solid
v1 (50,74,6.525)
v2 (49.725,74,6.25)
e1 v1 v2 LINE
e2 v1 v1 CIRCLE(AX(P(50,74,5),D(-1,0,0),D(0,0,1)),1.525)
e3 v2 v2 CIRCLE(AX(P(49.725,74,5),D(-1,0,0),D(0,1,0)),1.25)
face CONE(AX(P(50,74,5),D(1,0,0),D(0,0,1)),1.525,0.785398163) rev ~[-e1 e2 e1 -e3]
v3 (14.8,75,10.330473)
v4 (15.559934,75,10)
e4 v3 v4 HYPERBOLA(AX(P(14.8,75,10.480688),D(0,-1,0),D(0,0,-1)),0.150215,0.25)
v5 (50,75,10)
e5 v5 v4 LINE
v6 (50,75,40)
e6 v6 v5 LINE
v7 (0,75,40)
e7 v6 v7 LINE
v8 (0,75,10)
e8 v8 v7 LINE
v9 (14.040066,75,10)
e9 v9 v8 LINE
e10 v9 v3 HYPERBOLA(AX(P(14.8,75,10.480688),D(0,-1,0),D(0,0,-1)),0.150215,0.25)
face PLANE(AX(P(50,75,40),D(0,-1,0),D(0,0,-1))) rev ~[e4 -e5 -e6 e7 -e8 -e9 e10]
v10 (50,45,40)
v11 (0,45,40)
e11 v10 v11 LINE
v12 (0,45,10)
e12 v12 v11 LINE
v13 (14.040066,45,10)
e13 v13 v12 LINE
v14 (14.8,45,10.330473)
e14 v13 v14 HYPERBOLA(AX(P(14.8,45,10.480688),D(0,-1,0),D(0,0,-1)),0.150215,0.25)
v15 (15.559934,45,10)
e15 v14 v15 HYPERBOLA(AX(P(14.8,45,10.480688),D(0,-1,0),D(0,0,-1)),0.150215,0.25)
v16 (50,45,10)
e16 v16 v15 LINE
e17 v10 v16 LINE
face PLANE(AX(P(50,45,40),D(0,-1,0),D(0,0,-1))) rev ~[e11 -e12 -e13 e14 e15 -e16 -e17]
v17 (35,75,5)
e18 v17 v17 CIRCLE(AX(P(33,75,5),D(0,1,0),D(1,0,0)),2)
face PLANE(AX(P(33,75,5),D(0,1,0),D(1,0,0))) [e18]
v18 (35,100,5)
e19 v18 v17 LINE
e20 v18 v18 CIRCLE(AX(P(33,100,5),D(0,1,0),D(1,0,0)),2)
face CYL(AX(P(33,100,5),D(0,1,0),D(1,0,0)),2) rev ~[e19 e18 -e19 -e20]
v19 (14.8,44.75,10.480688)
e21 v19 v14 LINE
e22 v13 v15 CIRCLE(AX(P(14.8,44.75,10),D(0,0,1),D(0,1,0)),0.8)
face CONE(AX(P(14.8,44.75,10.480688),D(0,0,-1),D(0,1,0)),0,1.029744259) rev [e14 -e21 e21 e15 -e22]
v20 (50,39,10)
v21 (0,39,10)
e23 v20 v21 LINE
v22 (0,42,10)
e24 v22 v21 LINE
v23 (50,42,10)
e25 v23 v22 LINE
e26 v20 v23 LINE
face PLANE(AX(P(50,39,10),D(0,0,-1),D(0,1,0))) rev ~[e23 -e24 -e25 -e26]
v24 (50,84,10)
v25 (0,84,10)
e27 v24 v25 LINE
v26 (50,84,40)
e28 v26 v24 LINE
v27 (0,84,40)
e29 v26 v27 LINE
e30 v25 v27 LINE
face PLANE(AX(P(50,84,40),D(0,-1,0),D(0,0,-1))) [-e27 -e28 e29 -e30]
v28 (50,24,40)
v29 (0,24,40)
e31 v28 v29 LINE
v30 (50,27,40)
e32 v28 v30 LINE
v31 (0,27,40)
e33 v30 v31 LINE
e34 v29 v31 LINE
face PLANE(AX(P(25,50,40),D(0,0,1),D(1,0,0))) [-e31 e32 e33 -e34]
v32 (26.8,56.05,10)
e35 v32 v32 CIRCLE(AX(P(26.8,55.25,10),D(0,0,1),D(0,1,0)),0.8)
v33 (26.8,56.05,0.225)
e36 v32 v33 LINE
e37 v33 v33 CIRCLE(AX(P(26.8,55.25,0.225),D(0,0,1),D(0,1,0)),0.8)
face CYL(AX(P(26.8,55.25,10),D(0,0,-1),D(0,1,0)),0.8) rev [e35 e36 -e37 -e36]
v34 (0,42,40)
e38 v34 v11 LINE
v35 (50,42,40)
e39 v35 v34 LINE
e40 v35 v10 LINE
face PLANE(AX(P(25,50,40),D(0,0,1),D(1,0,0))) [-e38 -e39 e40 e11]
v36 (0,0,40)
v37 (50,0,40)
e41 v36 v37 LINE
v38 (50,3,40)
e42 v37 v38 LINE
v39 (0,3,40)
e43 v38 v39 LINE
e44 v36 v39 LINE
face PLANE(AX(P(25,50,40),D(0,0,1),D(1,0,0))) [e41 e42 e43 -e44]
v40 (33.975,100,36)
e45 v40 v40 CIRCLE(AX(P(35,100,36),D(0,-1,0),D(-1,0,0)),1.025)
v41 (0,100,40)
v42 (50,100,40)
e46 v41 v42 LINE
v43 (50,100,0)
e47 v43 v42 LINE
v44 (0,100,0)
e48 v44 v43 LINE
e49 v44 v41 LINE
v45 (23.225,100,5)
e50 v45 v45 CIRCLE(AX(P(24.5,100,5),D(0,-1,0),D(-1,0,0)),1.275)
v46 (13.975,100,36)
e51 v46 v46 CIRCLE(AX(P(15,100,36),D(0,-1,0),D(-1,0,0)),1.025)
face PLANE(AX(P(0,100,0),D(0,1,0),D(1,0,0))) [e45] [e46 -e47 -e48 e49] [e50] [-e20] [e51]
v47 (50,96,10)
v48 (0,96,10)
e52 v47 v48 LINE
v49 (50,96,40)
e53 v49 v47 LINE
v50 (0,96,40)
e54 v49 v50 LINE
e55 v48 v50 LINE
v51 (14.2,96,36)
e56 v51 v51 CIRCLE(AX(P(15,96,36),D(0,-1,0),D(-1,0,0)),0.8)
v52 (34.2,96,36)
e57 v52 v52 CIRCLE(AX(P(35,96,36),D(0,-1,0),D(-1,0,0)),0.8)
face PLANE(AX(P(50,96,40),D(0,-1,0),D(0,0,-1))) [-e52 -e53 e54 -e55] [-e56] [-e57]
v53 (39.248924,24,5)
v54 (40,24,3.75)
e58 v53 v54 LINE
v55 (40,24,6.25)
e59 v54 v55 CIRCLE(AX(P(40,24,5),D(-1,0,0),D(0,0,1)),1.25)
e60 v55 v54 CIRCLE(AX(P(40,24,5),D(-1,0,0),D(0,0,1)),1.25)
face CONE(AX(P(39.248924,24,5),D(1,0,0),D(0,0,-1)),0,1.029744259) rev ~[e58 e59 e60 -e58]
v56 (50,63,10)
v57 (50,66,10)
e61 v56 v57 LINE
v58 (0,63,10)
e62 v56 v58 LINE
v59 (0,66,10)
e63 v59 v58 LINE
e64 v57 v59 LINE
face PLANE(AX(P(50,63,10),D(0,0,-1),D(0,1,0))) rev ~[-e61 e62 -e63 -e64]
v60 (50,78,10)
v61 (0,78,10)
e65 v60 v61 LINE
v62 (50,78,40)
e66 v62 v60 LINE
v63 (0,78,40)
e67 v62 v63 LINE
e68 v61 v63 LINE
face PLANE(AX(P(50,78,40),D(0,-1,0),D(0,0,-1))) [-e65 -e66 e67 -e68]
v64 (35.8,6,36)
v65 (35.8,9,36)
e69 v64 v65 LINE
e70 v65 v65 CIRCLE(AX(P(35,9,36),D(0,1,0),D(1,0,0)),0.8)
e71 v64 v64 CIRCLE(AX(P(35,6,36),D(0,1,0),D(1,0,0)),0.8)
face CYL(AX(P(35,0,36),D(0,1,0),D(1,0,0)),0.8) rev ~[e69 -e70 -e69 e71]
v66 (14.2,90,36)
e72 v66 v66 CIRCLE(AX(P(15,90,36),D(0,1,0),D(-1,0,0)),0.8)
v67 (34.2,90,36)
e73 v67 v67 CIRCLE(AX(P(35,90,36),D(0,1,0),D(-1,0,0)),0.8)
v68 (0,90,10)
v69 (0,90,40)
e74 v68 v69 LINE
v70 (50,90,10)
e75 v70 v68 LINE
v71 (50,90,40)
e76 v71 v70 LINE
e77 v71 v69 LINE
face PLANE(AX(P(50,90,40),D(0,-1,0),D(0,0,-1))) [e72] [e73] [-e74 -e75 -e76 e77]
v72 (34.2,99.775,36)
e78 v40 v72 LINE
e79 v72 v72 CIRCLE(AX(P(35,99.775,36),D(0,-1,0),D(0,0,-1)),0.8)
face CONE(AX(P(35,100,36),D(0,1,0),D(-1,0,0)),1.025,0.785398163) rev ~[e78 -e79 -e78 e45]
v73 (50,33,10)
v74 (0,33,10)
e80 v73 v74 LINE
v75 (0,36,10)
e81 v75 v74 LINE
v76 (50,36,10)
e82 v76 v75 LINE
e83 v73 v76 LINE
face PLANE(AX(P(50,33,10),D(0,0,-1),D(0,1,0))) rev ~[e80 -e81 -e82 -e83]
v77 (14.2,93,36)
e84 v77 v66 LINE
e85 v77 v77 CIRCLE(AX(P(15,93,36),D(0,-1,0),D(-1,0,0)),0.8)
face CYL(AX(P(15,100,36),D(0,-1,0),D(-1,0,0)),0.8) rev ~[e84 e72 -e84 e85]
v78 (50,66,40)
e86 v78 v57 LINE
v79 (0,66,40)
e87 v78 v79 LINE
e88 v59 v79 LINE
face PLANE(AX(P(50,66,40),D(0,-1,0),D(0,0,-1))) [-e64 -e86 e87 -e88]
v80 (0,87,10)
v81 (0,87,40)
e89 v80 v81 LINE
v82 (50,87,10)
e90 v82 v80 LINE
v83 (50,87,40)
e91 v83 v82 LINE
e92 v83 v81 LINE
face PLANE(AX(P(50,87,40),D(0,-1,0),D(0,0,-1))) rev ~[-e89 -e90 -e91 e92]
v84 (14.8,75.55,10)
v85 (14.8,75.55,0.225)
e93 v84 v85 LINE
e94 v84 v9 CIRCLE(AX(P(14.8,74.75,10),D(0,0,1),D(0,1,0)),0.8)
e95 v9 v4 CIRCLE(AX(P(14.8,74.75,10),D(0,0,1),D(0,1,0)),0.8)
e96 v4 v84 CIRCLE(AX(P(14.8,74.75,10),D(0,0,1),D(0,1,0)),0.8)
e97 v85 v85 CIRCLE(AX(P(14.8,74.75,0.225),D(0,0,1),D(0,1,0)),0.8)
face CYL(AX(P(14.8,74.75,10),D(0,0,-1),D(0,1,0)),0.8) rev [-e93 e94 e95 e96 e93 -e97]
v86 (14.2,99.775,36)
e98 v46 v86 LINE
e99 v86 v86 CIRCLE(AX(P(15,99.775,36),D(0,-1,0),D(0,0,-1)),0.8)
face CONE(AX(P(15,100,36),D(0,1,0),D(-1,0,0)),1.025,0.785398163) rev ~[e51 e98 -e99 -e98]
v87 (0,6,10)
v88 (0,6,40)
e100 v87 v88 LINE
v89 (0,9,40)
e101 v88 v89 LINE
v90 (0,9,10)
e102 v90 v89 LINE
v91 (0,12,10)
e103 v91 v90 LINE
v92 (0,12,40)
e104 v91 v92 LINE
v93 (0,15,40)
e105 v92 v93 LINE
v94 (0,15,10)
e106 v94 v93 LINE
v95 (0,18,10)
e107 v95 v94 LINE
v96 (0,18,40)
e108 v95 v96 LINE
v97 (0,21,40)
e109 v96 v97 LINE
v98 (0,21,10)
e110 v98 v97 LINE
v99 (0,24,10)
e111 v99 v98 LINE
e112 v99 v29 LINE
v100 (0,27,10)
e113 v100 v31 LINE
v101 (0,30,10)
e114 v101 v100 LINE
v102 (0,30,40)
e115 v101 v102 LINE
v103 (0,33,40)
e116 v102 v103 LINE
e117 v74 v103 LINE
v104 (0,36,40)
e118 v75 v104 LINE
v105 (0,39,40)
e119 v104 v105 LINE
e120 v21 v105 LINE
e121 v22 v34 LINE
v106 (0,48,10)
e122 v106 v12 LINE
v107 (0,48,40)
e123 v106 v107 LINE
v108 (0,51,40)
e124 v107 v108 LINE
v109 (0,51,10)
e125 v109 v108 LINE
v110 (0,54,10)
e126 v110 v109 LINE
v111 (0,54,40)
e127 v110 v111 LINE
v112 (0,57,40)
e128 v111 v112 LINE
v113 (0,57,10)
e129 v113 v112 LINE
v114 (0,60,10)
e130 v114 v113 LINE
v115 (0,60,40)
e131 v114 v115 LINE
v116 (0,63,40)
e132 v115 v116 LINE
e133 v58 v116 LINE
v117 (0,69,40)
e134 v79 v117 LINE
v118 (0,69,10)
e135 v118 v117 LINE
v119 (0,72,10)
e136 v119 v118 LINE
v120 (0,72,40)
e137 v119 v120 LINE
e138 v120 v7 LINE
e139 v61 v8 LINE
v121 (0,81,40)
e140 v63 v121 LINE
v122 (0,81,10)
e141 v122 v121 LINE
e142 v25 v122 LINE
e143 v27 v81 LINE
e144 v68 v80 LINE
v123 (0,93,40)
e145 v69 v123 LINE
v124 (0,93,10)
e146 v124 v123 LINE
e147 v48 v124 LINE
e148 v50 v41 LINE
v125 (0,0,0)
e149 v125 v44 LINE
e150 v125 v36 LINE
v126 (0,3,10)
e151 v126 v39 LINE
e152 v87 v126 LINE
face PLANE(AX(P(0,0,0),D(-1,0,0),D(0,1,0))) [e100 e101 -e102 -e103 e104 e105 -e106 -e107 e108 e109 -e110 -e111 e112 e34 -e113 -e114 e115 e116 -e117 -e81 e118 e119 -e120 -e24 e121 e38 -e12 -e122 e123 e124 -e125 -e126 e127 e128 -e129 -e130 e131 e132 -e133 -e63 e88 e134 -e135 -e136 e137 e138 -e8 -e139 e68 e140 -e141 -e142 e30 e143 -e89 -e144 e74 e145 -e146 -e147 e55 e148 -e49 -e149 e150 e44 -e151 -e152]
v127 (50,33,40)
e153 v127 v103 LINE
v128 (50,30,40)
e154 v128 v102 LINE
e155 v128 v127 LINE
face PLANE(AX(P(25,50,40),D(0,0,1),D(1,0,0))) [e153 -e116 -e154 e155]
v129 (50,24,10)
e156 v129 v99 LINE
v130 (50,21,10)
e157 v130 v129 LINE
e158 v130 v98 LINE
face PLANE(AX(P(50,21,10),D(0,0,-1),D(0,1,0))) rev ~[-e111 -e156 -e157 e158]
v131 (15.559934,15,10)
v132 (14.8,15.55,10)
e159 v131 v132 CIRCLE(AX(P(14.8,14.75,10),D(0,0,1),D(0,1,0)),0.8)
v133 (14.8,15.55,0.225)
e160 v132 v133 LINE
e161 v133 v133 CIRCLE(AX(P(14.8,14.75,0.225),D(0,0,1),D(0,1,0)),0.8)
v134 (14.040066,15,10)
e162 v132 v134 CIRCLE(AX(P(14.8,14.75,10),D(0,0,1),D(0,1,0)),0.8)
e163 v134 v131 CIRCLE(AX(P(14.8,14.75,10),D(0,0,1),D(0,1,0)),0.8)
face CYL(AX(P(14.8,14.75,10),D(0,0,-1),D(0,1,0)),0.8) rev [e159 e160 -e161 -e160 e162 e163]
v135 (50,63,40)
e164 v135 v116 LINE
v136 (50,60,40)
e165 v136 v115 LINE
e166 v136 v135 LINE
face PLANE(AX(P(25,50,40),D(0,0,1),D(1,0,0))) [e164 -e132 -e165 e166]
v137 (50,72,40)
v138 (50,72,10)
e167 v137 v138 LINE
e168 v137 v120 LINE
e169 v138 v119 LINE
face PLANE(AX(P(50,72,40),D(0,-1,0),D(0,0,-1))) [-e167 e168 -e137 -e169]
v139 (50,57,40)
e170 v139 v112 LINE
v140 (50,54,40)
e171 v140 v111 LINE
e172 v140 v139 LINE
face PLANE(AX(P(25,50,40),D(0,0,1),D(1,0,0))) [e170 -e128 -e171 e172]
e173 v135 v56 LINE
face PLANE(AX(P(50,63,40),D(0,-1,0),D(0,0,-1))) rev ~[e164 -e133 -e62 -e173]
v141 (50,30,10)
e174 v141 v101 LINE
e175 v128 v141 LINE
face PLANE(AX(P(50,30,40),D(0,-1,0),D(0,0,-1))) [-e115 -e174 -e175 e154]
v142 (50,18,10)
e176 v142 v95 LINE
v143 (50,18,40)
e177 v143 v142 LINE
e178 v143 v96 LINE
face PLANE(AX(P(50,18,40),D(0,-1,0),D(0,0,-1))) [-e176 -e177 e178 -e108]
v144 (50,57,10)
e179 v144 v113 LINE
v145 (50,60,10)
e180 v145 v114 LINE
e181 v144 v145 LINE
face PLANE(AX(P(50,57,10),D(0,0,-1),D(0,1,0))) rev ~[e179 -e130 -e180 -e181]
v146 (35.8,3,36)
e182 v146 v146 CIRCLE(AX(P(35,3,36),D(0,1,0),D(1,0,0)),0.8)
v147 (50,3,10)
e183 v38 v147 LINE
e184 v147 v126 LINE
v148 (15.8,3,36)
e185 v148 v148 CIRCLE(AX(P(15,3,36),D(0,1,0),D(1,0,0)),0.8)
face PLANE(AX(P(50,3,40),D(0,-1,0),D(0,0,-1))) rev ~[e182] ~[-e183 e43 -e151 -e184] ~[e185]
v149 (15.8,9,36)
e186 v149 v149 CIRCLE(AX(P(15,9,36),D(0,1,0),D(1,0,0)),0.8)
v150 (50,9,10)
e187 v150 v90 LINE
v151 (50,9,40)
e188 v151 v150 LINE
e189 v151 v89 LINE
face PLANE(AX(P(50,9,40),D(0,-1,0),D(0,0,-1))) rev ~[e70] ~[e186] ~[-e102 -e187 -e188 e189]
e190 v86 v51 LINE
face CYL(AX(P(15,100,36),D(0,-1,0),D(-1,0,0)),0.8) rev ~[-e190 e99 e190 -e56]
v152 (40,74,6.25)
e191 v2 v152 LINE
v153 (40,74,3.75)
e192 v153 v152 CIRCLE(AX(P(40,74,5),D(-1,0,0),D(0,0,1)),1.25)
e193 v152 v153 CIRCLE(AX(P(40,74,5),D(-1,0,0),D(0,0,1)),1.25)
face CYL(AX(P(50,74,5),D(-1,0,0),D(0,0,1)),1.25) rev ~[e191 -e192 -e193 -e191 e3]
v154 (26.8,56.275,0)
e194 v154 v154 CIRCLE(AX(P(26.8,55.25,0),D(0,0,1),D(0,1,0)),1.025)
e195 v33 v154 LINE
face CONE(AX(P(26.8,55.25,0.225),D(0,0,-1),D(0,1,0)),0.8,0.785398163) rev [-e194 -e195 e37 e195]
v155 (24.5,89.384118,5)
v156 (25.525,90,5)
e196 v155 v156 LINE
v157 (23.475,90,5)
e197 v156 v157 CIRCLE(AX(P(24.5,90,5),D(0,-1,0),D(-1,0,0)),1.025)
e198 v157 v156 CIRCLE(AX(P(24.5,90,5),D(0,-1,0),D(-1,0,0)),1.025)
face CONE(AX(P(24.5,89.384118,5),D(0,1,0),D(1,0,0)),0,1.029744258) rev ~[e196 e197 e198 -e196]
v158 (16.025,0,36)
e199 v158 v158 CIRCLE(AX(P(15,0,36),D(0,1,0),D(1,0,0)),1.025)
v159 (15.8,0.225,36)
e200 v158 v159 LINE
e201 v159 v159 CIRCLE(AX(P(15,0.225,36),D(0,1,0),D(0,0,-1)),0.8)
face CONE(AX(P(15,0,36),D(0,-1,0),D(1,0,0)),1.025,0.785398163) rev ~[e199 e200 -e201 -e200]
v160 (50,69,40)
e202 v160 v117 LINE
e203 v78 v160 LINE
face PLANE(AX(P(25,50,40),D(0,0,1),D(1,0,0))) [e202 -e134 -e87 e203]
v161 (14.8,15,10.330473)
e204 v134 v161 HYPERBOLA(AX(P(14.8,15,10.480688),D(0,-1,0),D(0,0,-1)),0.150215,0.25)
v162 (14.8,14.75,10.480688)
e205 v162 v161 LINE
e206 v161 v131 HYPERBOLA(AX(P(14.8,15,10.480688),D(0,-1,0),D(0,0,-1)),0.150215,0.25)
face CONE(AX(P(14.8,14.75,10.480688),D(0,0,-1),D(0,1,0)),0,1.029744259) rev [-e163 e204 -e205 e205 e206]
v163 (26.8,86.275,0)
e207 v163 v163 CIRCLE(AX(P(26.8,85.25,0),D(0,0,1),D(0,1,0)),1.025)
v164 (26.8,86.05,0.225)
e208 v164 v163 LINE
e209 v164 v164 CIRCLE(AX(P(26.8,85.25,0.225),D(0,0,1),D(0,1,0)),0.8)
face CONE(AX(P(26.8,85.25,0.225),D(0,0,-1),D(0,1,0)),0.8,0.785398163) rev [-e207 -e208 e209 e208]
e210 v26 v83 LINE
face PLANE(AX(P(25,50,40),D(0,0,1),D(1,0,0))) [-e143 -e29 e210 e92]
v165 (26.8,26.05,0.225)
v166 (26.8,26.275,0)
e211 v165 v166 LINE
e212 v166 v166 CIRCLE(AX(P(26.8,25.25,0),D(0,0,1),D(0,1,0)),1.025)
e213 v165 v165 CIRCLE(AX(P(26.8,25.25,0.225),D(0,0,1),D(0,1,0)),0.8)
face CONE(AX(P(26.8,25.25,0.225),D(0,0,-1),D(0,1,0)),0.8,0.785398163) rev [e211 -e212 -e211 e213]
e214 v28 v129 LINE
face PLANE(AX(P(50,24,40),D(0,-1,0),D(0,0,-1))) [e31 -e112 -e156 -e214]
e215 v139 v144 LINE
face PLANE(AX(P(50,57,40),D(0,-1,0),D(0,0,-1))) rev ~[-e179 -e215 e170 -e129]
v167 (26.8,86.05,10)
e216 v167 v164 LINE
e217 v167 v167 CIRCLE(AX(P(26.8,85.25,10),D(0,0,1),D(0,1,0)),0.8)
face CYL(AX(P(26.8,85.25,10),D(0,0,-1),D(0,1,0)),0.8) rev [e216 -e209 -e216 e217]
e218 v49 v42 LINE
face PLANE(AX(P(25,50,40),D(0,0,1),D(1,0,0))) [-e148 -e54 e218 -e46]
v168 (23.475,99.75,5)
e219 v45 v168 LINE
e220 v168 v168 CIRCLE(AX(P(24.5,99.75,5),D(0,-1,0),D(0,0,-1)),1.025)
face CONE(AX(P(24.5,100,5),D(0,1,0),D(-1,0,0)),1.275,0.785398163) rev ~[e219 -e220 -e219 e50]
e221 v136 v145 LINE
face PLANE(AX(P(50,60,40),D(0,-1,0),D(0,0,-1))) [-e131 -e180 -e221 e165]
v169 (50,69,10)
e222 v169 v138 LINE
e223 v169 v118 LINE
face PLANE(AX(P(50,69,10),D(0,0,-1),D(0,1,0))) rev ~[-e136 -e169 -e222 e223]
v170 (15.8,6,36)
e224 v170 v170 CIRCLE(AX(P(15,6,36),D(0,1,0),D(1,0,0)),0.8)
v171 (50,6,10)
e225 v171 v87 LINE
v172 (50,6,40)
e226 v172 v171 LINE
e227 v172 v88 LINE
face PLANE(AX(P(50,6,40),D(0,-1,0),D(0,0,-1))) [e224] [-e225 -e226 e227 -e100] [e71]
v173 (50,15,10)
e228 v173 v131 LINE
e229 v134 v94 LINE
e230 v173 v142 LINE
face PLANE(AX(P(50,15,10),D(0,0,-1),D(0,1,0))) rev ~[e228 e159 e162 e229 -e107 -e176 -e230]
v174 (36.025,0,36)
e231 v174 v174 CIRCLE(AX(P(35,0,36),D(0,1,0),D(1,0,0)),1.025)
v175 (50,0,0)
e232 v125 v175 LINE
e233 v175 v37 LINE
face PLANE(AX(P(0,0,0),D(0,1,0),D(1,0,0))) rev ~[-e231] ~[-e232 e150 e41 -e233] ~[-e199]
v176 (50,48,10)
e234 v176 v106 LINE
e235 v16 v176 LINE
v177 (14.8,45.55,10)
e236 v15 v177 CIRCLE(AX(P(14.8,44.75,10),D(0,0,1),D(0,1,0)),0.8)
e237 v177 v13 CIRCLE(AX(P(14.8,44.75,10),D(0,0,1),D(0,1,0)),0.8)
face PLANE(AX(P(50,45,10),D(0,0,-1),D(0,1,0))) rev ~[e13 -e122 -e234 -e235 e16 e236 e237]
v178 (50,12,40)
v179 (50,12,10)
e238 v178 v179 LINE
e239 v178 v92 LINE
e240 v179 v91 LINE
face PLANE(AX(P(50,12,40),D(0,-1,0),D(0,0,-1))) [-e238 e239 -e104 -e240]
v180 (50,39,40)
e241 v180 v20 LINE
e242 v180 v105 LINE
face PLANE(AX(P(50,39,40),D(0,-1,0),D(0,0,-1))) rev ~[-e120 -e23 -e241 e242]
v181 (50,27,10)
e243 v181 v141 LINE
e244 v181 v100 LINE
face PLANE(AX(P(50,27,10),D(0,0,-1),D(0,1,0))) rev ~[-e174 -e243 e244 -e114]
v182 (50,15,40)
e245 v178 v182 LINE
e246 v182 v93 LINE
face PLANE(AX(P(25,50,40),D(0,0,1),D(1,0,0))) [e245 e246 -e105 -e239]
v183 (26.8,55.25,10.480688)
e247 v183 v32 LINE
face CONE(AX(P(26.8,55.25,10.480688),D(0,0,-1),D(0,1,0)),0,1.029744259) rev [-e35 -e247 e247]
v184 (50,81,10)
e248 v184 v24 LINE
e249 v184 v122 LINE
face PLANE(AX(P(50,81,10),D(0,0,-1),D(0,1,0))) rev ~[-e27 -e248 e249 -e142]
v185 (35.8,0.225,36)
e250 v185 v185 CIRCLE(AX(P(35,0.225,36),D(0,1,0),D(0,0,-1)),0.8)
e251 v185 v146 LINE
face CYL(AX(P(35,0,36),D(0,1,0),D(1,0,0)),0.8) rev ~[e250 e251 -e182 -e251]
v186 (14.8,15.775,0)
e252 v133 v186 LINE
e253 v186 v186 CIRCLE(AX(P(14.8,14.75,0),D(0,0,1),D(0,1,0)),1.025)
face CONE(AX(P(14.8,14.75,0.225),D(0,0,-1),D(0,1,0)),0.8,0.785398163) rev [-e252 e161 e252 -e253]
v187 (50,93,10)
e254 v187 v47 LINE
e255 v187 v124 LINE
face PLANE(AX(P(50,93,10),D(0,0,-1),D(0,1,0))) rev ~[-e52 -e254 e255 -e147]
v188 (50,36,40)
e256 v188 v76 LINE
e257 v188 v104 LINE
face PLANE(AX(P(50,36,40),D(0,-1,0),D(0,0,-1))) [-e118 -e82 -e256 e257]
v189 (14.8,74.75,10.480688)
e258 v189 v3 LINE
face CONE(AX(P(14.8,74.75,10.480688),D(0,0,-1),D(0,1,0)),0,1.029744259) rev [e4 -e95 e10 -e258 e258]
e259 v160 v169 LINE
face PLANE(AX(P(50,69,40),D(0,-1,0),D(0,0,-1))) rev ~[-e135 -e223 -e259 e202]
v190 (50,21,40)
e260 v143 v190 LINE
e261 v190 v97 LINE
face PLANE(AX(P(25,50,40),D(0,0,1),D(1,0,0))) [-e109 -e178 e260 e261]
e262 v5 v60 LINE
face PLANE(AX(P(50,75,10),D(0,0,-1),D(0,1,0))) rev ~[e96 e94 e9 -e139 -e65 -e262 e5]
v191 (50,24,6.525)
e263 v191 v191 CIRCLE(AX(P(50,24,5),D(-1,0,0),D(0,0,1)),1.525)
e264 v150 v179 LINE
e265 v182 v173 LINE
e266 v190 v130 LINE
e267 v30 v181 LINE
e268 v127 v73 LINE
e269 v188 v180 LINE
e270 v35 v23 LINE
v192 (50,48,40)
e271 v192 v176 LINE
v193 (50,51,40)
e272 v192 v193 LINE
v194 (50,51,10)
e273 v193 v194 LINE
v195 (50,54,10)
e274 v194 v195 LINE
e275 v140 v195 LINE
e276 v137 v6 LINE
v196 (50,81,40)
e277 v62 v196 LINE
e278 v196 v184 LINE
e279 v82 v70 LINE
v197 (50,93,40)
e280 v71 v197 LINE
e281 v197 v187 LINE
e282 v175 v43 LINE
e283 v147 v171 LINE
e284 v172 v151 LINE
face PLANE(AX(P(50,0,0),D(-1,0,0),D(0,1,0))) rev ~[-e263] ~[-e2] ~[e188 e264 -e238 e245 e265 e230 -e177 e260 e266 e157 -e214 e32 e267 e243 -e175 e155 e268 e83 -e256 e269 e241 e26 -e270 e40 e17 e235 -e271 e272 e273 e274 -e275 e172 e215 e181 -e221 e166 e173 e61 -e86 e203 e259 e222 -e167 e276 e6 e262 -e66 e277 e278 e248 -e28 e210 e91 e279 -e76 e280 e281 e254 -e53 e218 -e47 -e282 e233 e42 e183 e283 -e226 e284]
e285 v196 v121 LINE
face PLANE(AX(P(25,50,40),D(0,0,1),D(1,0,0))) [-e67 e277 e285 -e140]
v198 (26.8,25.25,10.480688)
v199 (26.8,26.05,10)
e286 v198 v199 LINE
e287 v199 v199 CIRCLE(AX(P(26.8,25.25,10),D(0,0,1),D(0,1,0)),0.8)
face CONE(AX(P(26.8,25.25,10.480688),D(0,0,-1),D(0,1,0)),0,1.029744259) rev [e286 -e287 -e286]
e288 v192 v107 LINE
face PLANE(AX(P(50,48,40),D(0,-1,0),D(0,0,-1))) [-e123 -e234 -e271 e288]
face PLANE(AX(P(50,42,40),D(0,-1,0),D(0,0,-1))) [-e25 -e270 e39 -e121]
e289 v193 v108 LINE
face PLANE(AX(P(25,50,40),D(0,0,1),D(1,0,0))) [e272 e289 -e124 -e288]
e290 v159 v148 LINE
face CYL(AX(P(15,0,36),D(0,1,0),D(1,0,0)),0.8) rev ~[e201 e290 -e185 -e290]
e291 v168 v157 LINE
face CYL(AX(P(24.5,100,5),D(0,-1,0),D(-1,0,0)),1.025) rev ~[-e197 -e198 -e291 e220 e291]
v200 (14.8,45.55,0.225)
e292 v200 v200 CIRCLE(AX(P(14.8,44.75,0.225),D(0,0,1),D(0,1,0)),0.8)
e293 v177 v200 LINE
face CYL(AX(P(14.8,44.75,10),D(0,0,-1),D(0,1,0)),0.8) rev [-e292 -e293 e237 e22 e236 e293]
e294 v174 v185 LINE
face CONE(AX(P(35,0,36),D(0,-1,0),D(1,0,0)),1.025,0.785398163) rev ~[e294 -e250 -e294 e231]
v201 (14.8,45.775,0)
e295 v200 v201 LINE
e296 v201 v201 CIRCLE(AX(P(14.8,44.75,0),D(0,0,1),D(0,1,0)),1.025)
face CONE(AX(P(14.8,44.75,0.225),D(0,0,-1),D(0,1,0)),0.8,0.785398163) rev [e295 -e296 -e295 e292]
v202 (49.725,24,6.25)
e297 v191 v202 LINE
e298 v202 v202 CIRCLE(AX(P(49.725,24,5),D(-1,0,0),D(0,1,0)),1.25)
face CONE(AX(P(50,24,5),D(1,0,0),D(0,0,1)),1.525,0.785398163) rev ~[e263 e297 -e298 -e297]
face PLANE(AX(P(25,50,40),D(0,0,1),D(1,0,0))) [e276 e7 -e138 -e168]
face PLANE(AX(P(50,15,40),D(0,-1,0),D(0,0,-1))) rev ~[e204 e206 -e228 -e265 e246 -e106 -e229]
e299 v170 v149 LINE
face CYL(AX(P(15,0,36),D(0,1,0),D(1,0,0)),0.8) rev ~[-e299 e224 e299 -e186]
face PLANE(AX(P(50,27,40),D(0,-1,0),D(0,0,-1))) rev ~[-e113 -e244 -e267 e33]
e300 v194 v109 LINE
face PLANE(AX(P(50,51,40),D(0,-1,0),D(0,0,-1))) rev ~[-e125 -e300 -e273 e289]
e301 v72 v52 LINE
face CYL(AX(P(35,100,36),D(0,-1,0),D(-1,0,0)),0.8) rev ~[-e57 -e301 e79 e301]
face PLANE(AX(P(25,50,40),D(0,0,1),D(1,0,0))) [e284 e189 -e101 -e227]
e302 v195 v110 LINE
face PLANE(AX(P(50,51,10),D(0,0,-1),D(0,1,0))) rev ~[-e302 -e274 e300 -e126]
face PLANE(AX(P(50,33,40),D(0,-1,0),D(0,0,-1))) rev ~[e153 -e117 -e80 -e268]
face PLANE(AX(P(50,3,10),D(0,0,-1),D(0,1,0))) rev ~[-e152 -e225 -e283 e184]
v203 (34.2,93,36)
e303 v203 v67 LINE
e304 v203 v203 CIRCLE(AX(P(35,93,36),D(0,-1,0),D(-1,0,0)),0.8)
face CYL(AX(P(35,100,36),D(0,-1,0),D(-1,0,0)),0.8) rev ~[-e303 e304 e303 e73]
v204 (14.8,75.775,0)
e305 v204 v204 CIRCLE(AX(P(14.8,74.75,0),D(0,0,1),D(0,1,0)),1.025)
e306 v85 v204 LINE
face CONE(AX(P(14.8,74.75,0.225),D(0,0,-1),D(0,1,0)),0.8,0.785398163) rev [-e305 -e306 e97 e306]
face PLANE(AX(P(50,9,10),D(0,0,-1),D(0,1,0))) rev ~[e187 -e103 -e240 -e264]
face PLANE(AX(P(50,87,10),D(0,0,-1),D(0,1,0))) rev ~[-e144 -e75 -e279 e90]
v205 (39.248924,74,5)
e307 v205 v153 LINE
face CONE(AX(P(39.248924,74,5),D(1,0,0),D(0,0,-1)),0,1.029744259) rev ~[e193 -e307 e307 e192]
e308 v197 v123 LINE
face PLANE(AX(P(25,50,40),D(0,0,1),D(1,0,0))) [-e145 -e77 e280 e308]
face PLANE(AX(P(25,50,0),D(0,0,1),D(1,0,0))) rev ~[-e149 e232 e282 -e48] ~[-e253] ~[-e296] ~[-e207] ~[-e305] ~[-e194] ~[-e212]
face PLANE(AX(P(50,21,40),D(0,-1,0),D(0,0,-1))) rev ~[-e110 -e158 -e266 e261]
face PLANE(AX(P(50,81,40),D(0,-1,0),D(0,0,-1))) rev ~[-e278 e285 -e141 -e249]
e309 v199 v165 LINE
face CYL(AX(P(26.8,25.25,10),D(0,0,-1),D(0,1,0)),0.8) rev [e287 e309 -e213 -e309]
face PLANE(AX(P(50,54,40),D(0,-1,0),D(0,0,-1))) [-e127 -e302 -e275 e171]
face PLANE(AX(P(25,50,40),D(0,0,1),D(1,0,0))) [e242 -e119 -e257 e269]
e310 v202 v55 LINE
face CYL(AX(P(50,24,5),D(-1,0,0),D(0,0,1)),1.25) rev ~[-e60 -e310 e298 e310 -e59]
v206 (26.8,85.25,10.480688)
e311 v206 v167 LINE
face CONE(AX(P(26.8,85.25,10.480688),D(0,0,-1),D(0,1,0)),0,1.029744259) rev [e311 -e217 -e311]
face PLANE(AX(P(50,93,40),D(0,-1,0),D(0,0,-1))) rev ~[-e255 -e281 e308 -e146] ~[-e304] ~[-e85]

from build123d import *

# Parameters (mm, degrees)
SKETCH2_W                     = 50
SKETCH2_H                     = 100
BOSS_EXTRUDE1_DEPTH           = 40
M3_TAPPED_HOLE2_D             = 2.5
M3_TAPPED_HOLE2_DEPTH         = 10
M3_TAPPED_HOLE2_CSINK_D       = 3.05
M3_TAPPED_HOLE2_CSINK_ANGLE   = 90
M3_TAPPED_HOLE2_TIP           = 0.751075774
M2_TAPPED_HOLE1_AT_2_COUNT    = 2
M2_TAPPED_HOLE1_AT_2_PITCH    = 15.945218719
LPATTERN1_COUNT               = 3
LPATTERN1_PITCH               = 30
SKETCH6_R                     = 2
CUT_EXTRUDE4_DEPTH            = 25
M2_5_TAPPED_HOLE1_D           = 2.05
M2_5_TAPPED_HOLE1_DEPTH       = 10
M2_5_TAPPED_HOLE1_CSINK_D     = 2.55
M2_5_TAPPED_HOLE1_CSINK_ANGLE = 90
M2_5_TAPPED_HOLE1_TIP         = 0.615882135
SKETCH8_W                     = 30
SKETCH8_H                     = 3
CUT_EXTRUDE6_DEPTH            = 51
M2_TAPPED_HOLE2_D             = 1.6
M2_TAPPED_HOLE2_DEPTH         = 10
M2_TAPPED_HOLE2_CSINK_D       = 2.05
M2_TAPPED_HOLE2_CSINK_ANGLE   = 90
M2_TAPPED_HOLE2_TIP           = 0.480688495
M2_TAPPED_HOLE3_D             = 1.6
M2_TAPPED_HOLE3_DEPTH         = 10
M2_TAPPED_HOLE3_CSINK_D       = 2.05
M2_TAPPED_HOLE3_CSINK_ANGLE   = 90
M2_TAPPED_HOLE3_TIP           = 0.480688495


with BuildPart() as part:
    # Sketch2 → Boss-Extrude1 (new body)
    with BuildSketch(Plane.XY):
        with Locations((25, 50)):
            Rectangle(SKETCH2_W, SKETCH2_H)
    extrude(amount=BOSS_EXTRUDE1_DEPTH)

    # M3 Tapped Hole2
    with Locations(Plane(origin=(50, 0, 0), x_dir=(0, 0, -1), z_dir=(1, 0, 0))):
        with Locations((-5, 74), (-5, 24)):
            CounterSinkHole(M3_TAPPED_HOLE2_D / 2, M3_TAPPED_HOLE2_CSINK_D / 2, depth=M3_TAPPED_HOLE2_DEPTH, counter_sink_angle=M3_TAPPED_HOLE2_CSINK_ANGLE)
            with Locations((0, 0, -(M3_TAPPED_HOLE2_DEPTH + M3_TAPPED_HOLE2_TIP / 2))):  # 118° drill point
                Cone(0, M3_TAPPED_HOLE2_D / 2, M3_TAPPED_HOLE2_TIP, mode=Mode.SUBTRACT)

    # Sketch12 → M2 Tapped Hole1 (revolve, cut)
    with BuildSketch(Plane(origin=(26.8, 25.25, 0), x_dir=(0, 1, 0), z_dir=(1, 0, 0))):
        Polygon((0, 0), (0, 10.480688495), (0.8, 10), (0.8, 0.225), (1.025, 0), align=None)
    m2_tapped_hole1 = revolve(axis=Axis((26.8, 25.25, -6.35), (0, 0, 1)), mode=Mode.SUBTRACT)

    # M2 Tapped Hole1 at 2: M2 Tapped Hole1 ×2
    with Locations(*[Vector(-0.752576695, -0.658504608, 0) * (i * M2_TAPPED_HOLE1_AT_2_PITCH) for i in range(1, M2_TAPPED_HOLE1_AT_2_COUNT)]):
        add(m2_tapped_hole1, mode=Mode.SUBTRACT)

    # LPattern1: M2 Tapped Hole1 ×3
    with Locations(*[(0, i * LPATTERN1_PITCH, 0) for i in range(1, LPATTERN1_COUNT)]):
        add(m2_tapped_hole1, mode=Mode.SUBTRACT)

    # LPattern1 copy 1 sketch → LPattern1 copy 1 (revolve, cut)
    with BuildSketch(Plane(origin=(14.8, 44.75, 0), x_dir=(0, 1, 0), z_dir=(1, 0, 0))):
        Polygon((0, 0), (0, 10.480688495), (0.8, 10), (0.8, 0.225), (1.025, 0), align=None)
    revolve(axis=Axis((14.8, 44.75, -6.35), (0, 0, 1)), mode=Mode.SUBTRACT)

    # LPattern1 copy 2 sketch → LPattern1 copy 2 (revolve, cut)
    with BuildSketch(Plane(origin=(14.8, 74.75, 0), x_dir=(0, 1, 0), z_dir=(1, 0, 0))):
        Polygon((0, 0), (0, 10.480688495), (0.8, 10), (0.8, 0.225), (1.025, 0), align=None)
    revolve(axis=Axis((14.8, 74.75, -6.35), (0, 0, 1)), mode=Mode.SUBTRACT)

    # Sketch6 → Cut-Extrude4 (cut)
    with BuildSketch(Plane(origin=(0, 100, 0), x_dir=(1, 0, 0), z_dir=(0, 1, 0))):
        with Locations((33, -5)):
            Circle(SKETCH6_R)
    extrude(amount=-CUT_EXTRUDE4_DEPTH, mode=Mode.SUBTRACT)

    # M2.5 Tapped Hole1
    with Locations(Plane(origin=(0, 100, 0), x_dir=(1, 0, 0), z_dir=(0, 1, 0))):
        with Locations((24.5, -5)):
            CounterSinkHole(M2_5_TAPPED_HOLE1_D / 2, M2_5_TAPPED_HOLE1_CSINK_D / 2, depth=M2_5_TAPPED_HOLE1_DEPTH, counter_sink_angle=M2_5_TAPPED_HOLE1_CSINK_ANGLE)
            with Locations((0, 0, -(M2_5_TAPPED_HOLE1_DEPTH + M2_5_TAPPED_HOLE1_TIP / 2))):  # 118° drill point
                Cone(0, M2_5_TAPPED_HOLE1_D / 2, M2_5_TAPPED_HOLE1_TIP, mode=Mode.SUBTRACT)

    # Sketch8 → Cut-Extrude6 (cut, through all)
    with BuildSketch(Plane(origin=(50, 0, 0), x_dir=(0, 0, -1), z_dir=(1, 0, 0))):
        with Locations((-25, 4.5)):
            Rectangle(SKETCH8_W, SKETCH8_H)
        with Locations((-25, 10.5)):
            Rectangle(SKETCH8_W, SKETCH8_H)
        with Locations((-25, 16.5)):
            Rectangle(SKETCH8_W, SKETCH8_H)
        with Locations((-25, 22.5)):
            Rectangle(SKETCH8_W, SKETCH8_H)
        with Locations((-25, 28.5)):
            Rectangle(SKETCH8_W, SKETCH8_H)
        with Locations((-25, 34.5)):
            Rectangle(SKETCH8_W, SKETCH8_H)
        with Locations((-25, 40.5)):
            Rectangle(SKETCH8_W, SKETCH8_H)
        with Locations((-25, 46.5)):
            Rectangle(SKETCH8_W, SKETCH8_H)
        with Locations((-25, 52.5)):
            Rectangle(SKETCH8_W, SKETCH8_H)
        with Locations((-25, 58.5)):
            Rectangle(SKETCH8_W, SKETCH8_H)
        with Locations((-25, 64.5)):
            Rectangle(SKETCH8_W, SKETCH8_H)
        with Locations((-25, 70.5)):
            Rectangle(SKETCH8_W, SKETCH8_H)
        with Locations((-25, 76.5)):
            Rectangle(SKETCH8_W, SKETCH8_H)
        with Locations((-25, 82.5)):
            Rectangle(SKETCH8_W, SKETCH8_H)
        with Locations((-25, 88.5)):
            Rectangle(SKETCH8_W, SKETCH8_H)
        with Locations((-25, 94.5)):
            Rectangle(SKETCH8_W, SKETCH8_H)
    extrude(amount=-CUT_EXTRUDE6_DEPTH, mode=Mode.SUBTRACT)

    # M2 Tapped Hole2
    with Locations(Plane(origin=(0, 100, 0), x_dir=(1, 0, 0), z_dir=(0, 1, 0))):
        with Locations((15, -36), (35, -36)):
            CounterSinkHole(M2_TAPPED_HOLE2_D / 2, M2_TAPPED_HOLE2_CSINK_D / 2, depth=M2_TAPPED_HOLE2_DEPTH, counter_sink_angle=M2_TAPPED_HOLE2_CSINK_ANGLE)
            with Locations((0, 0, -(M2_TAPPED_HOLE2_DEPTH + M2_TAPPED_HOLE2_TIP / 2))):  # 118° drill point
                Cone(0, M2_TAPPED_HOLE2_D / 2, M2_TAPPED_HOLE2_TIP, mode=Mode.SUBTRACT)

    # M2 Tapped Hole3
    with Locations(Plane(origin=(0, 0, 0), x_dir=(-1, 0, 0), z_dir=(0, -1, 0))):
        with Locations((-15, -36), (-35, -36)):
            CounterSinkHole(M2_TAPPED_HOLE3_D / 2, M2_TAPPED_HOLE3_CSINK_D / 2, depth=M2_TAPPED_HOLE3_DEPTH, counter_sink_angle=M2_TAPPED_HOLE3_CSINK_ANGLE)
            with Locations((0, 0, -(M2_TAPPED_HOLE3_DEPTH + M2_TAPPED_HOLE3_TIP / 2))):  # 118° drill point
                Cone(0, M2_TAPPED_HOLE3_D / 2, M2_TAPPED_HOLE3_TIP, mode=Mode.SUBTRACT)


solid = part.part
